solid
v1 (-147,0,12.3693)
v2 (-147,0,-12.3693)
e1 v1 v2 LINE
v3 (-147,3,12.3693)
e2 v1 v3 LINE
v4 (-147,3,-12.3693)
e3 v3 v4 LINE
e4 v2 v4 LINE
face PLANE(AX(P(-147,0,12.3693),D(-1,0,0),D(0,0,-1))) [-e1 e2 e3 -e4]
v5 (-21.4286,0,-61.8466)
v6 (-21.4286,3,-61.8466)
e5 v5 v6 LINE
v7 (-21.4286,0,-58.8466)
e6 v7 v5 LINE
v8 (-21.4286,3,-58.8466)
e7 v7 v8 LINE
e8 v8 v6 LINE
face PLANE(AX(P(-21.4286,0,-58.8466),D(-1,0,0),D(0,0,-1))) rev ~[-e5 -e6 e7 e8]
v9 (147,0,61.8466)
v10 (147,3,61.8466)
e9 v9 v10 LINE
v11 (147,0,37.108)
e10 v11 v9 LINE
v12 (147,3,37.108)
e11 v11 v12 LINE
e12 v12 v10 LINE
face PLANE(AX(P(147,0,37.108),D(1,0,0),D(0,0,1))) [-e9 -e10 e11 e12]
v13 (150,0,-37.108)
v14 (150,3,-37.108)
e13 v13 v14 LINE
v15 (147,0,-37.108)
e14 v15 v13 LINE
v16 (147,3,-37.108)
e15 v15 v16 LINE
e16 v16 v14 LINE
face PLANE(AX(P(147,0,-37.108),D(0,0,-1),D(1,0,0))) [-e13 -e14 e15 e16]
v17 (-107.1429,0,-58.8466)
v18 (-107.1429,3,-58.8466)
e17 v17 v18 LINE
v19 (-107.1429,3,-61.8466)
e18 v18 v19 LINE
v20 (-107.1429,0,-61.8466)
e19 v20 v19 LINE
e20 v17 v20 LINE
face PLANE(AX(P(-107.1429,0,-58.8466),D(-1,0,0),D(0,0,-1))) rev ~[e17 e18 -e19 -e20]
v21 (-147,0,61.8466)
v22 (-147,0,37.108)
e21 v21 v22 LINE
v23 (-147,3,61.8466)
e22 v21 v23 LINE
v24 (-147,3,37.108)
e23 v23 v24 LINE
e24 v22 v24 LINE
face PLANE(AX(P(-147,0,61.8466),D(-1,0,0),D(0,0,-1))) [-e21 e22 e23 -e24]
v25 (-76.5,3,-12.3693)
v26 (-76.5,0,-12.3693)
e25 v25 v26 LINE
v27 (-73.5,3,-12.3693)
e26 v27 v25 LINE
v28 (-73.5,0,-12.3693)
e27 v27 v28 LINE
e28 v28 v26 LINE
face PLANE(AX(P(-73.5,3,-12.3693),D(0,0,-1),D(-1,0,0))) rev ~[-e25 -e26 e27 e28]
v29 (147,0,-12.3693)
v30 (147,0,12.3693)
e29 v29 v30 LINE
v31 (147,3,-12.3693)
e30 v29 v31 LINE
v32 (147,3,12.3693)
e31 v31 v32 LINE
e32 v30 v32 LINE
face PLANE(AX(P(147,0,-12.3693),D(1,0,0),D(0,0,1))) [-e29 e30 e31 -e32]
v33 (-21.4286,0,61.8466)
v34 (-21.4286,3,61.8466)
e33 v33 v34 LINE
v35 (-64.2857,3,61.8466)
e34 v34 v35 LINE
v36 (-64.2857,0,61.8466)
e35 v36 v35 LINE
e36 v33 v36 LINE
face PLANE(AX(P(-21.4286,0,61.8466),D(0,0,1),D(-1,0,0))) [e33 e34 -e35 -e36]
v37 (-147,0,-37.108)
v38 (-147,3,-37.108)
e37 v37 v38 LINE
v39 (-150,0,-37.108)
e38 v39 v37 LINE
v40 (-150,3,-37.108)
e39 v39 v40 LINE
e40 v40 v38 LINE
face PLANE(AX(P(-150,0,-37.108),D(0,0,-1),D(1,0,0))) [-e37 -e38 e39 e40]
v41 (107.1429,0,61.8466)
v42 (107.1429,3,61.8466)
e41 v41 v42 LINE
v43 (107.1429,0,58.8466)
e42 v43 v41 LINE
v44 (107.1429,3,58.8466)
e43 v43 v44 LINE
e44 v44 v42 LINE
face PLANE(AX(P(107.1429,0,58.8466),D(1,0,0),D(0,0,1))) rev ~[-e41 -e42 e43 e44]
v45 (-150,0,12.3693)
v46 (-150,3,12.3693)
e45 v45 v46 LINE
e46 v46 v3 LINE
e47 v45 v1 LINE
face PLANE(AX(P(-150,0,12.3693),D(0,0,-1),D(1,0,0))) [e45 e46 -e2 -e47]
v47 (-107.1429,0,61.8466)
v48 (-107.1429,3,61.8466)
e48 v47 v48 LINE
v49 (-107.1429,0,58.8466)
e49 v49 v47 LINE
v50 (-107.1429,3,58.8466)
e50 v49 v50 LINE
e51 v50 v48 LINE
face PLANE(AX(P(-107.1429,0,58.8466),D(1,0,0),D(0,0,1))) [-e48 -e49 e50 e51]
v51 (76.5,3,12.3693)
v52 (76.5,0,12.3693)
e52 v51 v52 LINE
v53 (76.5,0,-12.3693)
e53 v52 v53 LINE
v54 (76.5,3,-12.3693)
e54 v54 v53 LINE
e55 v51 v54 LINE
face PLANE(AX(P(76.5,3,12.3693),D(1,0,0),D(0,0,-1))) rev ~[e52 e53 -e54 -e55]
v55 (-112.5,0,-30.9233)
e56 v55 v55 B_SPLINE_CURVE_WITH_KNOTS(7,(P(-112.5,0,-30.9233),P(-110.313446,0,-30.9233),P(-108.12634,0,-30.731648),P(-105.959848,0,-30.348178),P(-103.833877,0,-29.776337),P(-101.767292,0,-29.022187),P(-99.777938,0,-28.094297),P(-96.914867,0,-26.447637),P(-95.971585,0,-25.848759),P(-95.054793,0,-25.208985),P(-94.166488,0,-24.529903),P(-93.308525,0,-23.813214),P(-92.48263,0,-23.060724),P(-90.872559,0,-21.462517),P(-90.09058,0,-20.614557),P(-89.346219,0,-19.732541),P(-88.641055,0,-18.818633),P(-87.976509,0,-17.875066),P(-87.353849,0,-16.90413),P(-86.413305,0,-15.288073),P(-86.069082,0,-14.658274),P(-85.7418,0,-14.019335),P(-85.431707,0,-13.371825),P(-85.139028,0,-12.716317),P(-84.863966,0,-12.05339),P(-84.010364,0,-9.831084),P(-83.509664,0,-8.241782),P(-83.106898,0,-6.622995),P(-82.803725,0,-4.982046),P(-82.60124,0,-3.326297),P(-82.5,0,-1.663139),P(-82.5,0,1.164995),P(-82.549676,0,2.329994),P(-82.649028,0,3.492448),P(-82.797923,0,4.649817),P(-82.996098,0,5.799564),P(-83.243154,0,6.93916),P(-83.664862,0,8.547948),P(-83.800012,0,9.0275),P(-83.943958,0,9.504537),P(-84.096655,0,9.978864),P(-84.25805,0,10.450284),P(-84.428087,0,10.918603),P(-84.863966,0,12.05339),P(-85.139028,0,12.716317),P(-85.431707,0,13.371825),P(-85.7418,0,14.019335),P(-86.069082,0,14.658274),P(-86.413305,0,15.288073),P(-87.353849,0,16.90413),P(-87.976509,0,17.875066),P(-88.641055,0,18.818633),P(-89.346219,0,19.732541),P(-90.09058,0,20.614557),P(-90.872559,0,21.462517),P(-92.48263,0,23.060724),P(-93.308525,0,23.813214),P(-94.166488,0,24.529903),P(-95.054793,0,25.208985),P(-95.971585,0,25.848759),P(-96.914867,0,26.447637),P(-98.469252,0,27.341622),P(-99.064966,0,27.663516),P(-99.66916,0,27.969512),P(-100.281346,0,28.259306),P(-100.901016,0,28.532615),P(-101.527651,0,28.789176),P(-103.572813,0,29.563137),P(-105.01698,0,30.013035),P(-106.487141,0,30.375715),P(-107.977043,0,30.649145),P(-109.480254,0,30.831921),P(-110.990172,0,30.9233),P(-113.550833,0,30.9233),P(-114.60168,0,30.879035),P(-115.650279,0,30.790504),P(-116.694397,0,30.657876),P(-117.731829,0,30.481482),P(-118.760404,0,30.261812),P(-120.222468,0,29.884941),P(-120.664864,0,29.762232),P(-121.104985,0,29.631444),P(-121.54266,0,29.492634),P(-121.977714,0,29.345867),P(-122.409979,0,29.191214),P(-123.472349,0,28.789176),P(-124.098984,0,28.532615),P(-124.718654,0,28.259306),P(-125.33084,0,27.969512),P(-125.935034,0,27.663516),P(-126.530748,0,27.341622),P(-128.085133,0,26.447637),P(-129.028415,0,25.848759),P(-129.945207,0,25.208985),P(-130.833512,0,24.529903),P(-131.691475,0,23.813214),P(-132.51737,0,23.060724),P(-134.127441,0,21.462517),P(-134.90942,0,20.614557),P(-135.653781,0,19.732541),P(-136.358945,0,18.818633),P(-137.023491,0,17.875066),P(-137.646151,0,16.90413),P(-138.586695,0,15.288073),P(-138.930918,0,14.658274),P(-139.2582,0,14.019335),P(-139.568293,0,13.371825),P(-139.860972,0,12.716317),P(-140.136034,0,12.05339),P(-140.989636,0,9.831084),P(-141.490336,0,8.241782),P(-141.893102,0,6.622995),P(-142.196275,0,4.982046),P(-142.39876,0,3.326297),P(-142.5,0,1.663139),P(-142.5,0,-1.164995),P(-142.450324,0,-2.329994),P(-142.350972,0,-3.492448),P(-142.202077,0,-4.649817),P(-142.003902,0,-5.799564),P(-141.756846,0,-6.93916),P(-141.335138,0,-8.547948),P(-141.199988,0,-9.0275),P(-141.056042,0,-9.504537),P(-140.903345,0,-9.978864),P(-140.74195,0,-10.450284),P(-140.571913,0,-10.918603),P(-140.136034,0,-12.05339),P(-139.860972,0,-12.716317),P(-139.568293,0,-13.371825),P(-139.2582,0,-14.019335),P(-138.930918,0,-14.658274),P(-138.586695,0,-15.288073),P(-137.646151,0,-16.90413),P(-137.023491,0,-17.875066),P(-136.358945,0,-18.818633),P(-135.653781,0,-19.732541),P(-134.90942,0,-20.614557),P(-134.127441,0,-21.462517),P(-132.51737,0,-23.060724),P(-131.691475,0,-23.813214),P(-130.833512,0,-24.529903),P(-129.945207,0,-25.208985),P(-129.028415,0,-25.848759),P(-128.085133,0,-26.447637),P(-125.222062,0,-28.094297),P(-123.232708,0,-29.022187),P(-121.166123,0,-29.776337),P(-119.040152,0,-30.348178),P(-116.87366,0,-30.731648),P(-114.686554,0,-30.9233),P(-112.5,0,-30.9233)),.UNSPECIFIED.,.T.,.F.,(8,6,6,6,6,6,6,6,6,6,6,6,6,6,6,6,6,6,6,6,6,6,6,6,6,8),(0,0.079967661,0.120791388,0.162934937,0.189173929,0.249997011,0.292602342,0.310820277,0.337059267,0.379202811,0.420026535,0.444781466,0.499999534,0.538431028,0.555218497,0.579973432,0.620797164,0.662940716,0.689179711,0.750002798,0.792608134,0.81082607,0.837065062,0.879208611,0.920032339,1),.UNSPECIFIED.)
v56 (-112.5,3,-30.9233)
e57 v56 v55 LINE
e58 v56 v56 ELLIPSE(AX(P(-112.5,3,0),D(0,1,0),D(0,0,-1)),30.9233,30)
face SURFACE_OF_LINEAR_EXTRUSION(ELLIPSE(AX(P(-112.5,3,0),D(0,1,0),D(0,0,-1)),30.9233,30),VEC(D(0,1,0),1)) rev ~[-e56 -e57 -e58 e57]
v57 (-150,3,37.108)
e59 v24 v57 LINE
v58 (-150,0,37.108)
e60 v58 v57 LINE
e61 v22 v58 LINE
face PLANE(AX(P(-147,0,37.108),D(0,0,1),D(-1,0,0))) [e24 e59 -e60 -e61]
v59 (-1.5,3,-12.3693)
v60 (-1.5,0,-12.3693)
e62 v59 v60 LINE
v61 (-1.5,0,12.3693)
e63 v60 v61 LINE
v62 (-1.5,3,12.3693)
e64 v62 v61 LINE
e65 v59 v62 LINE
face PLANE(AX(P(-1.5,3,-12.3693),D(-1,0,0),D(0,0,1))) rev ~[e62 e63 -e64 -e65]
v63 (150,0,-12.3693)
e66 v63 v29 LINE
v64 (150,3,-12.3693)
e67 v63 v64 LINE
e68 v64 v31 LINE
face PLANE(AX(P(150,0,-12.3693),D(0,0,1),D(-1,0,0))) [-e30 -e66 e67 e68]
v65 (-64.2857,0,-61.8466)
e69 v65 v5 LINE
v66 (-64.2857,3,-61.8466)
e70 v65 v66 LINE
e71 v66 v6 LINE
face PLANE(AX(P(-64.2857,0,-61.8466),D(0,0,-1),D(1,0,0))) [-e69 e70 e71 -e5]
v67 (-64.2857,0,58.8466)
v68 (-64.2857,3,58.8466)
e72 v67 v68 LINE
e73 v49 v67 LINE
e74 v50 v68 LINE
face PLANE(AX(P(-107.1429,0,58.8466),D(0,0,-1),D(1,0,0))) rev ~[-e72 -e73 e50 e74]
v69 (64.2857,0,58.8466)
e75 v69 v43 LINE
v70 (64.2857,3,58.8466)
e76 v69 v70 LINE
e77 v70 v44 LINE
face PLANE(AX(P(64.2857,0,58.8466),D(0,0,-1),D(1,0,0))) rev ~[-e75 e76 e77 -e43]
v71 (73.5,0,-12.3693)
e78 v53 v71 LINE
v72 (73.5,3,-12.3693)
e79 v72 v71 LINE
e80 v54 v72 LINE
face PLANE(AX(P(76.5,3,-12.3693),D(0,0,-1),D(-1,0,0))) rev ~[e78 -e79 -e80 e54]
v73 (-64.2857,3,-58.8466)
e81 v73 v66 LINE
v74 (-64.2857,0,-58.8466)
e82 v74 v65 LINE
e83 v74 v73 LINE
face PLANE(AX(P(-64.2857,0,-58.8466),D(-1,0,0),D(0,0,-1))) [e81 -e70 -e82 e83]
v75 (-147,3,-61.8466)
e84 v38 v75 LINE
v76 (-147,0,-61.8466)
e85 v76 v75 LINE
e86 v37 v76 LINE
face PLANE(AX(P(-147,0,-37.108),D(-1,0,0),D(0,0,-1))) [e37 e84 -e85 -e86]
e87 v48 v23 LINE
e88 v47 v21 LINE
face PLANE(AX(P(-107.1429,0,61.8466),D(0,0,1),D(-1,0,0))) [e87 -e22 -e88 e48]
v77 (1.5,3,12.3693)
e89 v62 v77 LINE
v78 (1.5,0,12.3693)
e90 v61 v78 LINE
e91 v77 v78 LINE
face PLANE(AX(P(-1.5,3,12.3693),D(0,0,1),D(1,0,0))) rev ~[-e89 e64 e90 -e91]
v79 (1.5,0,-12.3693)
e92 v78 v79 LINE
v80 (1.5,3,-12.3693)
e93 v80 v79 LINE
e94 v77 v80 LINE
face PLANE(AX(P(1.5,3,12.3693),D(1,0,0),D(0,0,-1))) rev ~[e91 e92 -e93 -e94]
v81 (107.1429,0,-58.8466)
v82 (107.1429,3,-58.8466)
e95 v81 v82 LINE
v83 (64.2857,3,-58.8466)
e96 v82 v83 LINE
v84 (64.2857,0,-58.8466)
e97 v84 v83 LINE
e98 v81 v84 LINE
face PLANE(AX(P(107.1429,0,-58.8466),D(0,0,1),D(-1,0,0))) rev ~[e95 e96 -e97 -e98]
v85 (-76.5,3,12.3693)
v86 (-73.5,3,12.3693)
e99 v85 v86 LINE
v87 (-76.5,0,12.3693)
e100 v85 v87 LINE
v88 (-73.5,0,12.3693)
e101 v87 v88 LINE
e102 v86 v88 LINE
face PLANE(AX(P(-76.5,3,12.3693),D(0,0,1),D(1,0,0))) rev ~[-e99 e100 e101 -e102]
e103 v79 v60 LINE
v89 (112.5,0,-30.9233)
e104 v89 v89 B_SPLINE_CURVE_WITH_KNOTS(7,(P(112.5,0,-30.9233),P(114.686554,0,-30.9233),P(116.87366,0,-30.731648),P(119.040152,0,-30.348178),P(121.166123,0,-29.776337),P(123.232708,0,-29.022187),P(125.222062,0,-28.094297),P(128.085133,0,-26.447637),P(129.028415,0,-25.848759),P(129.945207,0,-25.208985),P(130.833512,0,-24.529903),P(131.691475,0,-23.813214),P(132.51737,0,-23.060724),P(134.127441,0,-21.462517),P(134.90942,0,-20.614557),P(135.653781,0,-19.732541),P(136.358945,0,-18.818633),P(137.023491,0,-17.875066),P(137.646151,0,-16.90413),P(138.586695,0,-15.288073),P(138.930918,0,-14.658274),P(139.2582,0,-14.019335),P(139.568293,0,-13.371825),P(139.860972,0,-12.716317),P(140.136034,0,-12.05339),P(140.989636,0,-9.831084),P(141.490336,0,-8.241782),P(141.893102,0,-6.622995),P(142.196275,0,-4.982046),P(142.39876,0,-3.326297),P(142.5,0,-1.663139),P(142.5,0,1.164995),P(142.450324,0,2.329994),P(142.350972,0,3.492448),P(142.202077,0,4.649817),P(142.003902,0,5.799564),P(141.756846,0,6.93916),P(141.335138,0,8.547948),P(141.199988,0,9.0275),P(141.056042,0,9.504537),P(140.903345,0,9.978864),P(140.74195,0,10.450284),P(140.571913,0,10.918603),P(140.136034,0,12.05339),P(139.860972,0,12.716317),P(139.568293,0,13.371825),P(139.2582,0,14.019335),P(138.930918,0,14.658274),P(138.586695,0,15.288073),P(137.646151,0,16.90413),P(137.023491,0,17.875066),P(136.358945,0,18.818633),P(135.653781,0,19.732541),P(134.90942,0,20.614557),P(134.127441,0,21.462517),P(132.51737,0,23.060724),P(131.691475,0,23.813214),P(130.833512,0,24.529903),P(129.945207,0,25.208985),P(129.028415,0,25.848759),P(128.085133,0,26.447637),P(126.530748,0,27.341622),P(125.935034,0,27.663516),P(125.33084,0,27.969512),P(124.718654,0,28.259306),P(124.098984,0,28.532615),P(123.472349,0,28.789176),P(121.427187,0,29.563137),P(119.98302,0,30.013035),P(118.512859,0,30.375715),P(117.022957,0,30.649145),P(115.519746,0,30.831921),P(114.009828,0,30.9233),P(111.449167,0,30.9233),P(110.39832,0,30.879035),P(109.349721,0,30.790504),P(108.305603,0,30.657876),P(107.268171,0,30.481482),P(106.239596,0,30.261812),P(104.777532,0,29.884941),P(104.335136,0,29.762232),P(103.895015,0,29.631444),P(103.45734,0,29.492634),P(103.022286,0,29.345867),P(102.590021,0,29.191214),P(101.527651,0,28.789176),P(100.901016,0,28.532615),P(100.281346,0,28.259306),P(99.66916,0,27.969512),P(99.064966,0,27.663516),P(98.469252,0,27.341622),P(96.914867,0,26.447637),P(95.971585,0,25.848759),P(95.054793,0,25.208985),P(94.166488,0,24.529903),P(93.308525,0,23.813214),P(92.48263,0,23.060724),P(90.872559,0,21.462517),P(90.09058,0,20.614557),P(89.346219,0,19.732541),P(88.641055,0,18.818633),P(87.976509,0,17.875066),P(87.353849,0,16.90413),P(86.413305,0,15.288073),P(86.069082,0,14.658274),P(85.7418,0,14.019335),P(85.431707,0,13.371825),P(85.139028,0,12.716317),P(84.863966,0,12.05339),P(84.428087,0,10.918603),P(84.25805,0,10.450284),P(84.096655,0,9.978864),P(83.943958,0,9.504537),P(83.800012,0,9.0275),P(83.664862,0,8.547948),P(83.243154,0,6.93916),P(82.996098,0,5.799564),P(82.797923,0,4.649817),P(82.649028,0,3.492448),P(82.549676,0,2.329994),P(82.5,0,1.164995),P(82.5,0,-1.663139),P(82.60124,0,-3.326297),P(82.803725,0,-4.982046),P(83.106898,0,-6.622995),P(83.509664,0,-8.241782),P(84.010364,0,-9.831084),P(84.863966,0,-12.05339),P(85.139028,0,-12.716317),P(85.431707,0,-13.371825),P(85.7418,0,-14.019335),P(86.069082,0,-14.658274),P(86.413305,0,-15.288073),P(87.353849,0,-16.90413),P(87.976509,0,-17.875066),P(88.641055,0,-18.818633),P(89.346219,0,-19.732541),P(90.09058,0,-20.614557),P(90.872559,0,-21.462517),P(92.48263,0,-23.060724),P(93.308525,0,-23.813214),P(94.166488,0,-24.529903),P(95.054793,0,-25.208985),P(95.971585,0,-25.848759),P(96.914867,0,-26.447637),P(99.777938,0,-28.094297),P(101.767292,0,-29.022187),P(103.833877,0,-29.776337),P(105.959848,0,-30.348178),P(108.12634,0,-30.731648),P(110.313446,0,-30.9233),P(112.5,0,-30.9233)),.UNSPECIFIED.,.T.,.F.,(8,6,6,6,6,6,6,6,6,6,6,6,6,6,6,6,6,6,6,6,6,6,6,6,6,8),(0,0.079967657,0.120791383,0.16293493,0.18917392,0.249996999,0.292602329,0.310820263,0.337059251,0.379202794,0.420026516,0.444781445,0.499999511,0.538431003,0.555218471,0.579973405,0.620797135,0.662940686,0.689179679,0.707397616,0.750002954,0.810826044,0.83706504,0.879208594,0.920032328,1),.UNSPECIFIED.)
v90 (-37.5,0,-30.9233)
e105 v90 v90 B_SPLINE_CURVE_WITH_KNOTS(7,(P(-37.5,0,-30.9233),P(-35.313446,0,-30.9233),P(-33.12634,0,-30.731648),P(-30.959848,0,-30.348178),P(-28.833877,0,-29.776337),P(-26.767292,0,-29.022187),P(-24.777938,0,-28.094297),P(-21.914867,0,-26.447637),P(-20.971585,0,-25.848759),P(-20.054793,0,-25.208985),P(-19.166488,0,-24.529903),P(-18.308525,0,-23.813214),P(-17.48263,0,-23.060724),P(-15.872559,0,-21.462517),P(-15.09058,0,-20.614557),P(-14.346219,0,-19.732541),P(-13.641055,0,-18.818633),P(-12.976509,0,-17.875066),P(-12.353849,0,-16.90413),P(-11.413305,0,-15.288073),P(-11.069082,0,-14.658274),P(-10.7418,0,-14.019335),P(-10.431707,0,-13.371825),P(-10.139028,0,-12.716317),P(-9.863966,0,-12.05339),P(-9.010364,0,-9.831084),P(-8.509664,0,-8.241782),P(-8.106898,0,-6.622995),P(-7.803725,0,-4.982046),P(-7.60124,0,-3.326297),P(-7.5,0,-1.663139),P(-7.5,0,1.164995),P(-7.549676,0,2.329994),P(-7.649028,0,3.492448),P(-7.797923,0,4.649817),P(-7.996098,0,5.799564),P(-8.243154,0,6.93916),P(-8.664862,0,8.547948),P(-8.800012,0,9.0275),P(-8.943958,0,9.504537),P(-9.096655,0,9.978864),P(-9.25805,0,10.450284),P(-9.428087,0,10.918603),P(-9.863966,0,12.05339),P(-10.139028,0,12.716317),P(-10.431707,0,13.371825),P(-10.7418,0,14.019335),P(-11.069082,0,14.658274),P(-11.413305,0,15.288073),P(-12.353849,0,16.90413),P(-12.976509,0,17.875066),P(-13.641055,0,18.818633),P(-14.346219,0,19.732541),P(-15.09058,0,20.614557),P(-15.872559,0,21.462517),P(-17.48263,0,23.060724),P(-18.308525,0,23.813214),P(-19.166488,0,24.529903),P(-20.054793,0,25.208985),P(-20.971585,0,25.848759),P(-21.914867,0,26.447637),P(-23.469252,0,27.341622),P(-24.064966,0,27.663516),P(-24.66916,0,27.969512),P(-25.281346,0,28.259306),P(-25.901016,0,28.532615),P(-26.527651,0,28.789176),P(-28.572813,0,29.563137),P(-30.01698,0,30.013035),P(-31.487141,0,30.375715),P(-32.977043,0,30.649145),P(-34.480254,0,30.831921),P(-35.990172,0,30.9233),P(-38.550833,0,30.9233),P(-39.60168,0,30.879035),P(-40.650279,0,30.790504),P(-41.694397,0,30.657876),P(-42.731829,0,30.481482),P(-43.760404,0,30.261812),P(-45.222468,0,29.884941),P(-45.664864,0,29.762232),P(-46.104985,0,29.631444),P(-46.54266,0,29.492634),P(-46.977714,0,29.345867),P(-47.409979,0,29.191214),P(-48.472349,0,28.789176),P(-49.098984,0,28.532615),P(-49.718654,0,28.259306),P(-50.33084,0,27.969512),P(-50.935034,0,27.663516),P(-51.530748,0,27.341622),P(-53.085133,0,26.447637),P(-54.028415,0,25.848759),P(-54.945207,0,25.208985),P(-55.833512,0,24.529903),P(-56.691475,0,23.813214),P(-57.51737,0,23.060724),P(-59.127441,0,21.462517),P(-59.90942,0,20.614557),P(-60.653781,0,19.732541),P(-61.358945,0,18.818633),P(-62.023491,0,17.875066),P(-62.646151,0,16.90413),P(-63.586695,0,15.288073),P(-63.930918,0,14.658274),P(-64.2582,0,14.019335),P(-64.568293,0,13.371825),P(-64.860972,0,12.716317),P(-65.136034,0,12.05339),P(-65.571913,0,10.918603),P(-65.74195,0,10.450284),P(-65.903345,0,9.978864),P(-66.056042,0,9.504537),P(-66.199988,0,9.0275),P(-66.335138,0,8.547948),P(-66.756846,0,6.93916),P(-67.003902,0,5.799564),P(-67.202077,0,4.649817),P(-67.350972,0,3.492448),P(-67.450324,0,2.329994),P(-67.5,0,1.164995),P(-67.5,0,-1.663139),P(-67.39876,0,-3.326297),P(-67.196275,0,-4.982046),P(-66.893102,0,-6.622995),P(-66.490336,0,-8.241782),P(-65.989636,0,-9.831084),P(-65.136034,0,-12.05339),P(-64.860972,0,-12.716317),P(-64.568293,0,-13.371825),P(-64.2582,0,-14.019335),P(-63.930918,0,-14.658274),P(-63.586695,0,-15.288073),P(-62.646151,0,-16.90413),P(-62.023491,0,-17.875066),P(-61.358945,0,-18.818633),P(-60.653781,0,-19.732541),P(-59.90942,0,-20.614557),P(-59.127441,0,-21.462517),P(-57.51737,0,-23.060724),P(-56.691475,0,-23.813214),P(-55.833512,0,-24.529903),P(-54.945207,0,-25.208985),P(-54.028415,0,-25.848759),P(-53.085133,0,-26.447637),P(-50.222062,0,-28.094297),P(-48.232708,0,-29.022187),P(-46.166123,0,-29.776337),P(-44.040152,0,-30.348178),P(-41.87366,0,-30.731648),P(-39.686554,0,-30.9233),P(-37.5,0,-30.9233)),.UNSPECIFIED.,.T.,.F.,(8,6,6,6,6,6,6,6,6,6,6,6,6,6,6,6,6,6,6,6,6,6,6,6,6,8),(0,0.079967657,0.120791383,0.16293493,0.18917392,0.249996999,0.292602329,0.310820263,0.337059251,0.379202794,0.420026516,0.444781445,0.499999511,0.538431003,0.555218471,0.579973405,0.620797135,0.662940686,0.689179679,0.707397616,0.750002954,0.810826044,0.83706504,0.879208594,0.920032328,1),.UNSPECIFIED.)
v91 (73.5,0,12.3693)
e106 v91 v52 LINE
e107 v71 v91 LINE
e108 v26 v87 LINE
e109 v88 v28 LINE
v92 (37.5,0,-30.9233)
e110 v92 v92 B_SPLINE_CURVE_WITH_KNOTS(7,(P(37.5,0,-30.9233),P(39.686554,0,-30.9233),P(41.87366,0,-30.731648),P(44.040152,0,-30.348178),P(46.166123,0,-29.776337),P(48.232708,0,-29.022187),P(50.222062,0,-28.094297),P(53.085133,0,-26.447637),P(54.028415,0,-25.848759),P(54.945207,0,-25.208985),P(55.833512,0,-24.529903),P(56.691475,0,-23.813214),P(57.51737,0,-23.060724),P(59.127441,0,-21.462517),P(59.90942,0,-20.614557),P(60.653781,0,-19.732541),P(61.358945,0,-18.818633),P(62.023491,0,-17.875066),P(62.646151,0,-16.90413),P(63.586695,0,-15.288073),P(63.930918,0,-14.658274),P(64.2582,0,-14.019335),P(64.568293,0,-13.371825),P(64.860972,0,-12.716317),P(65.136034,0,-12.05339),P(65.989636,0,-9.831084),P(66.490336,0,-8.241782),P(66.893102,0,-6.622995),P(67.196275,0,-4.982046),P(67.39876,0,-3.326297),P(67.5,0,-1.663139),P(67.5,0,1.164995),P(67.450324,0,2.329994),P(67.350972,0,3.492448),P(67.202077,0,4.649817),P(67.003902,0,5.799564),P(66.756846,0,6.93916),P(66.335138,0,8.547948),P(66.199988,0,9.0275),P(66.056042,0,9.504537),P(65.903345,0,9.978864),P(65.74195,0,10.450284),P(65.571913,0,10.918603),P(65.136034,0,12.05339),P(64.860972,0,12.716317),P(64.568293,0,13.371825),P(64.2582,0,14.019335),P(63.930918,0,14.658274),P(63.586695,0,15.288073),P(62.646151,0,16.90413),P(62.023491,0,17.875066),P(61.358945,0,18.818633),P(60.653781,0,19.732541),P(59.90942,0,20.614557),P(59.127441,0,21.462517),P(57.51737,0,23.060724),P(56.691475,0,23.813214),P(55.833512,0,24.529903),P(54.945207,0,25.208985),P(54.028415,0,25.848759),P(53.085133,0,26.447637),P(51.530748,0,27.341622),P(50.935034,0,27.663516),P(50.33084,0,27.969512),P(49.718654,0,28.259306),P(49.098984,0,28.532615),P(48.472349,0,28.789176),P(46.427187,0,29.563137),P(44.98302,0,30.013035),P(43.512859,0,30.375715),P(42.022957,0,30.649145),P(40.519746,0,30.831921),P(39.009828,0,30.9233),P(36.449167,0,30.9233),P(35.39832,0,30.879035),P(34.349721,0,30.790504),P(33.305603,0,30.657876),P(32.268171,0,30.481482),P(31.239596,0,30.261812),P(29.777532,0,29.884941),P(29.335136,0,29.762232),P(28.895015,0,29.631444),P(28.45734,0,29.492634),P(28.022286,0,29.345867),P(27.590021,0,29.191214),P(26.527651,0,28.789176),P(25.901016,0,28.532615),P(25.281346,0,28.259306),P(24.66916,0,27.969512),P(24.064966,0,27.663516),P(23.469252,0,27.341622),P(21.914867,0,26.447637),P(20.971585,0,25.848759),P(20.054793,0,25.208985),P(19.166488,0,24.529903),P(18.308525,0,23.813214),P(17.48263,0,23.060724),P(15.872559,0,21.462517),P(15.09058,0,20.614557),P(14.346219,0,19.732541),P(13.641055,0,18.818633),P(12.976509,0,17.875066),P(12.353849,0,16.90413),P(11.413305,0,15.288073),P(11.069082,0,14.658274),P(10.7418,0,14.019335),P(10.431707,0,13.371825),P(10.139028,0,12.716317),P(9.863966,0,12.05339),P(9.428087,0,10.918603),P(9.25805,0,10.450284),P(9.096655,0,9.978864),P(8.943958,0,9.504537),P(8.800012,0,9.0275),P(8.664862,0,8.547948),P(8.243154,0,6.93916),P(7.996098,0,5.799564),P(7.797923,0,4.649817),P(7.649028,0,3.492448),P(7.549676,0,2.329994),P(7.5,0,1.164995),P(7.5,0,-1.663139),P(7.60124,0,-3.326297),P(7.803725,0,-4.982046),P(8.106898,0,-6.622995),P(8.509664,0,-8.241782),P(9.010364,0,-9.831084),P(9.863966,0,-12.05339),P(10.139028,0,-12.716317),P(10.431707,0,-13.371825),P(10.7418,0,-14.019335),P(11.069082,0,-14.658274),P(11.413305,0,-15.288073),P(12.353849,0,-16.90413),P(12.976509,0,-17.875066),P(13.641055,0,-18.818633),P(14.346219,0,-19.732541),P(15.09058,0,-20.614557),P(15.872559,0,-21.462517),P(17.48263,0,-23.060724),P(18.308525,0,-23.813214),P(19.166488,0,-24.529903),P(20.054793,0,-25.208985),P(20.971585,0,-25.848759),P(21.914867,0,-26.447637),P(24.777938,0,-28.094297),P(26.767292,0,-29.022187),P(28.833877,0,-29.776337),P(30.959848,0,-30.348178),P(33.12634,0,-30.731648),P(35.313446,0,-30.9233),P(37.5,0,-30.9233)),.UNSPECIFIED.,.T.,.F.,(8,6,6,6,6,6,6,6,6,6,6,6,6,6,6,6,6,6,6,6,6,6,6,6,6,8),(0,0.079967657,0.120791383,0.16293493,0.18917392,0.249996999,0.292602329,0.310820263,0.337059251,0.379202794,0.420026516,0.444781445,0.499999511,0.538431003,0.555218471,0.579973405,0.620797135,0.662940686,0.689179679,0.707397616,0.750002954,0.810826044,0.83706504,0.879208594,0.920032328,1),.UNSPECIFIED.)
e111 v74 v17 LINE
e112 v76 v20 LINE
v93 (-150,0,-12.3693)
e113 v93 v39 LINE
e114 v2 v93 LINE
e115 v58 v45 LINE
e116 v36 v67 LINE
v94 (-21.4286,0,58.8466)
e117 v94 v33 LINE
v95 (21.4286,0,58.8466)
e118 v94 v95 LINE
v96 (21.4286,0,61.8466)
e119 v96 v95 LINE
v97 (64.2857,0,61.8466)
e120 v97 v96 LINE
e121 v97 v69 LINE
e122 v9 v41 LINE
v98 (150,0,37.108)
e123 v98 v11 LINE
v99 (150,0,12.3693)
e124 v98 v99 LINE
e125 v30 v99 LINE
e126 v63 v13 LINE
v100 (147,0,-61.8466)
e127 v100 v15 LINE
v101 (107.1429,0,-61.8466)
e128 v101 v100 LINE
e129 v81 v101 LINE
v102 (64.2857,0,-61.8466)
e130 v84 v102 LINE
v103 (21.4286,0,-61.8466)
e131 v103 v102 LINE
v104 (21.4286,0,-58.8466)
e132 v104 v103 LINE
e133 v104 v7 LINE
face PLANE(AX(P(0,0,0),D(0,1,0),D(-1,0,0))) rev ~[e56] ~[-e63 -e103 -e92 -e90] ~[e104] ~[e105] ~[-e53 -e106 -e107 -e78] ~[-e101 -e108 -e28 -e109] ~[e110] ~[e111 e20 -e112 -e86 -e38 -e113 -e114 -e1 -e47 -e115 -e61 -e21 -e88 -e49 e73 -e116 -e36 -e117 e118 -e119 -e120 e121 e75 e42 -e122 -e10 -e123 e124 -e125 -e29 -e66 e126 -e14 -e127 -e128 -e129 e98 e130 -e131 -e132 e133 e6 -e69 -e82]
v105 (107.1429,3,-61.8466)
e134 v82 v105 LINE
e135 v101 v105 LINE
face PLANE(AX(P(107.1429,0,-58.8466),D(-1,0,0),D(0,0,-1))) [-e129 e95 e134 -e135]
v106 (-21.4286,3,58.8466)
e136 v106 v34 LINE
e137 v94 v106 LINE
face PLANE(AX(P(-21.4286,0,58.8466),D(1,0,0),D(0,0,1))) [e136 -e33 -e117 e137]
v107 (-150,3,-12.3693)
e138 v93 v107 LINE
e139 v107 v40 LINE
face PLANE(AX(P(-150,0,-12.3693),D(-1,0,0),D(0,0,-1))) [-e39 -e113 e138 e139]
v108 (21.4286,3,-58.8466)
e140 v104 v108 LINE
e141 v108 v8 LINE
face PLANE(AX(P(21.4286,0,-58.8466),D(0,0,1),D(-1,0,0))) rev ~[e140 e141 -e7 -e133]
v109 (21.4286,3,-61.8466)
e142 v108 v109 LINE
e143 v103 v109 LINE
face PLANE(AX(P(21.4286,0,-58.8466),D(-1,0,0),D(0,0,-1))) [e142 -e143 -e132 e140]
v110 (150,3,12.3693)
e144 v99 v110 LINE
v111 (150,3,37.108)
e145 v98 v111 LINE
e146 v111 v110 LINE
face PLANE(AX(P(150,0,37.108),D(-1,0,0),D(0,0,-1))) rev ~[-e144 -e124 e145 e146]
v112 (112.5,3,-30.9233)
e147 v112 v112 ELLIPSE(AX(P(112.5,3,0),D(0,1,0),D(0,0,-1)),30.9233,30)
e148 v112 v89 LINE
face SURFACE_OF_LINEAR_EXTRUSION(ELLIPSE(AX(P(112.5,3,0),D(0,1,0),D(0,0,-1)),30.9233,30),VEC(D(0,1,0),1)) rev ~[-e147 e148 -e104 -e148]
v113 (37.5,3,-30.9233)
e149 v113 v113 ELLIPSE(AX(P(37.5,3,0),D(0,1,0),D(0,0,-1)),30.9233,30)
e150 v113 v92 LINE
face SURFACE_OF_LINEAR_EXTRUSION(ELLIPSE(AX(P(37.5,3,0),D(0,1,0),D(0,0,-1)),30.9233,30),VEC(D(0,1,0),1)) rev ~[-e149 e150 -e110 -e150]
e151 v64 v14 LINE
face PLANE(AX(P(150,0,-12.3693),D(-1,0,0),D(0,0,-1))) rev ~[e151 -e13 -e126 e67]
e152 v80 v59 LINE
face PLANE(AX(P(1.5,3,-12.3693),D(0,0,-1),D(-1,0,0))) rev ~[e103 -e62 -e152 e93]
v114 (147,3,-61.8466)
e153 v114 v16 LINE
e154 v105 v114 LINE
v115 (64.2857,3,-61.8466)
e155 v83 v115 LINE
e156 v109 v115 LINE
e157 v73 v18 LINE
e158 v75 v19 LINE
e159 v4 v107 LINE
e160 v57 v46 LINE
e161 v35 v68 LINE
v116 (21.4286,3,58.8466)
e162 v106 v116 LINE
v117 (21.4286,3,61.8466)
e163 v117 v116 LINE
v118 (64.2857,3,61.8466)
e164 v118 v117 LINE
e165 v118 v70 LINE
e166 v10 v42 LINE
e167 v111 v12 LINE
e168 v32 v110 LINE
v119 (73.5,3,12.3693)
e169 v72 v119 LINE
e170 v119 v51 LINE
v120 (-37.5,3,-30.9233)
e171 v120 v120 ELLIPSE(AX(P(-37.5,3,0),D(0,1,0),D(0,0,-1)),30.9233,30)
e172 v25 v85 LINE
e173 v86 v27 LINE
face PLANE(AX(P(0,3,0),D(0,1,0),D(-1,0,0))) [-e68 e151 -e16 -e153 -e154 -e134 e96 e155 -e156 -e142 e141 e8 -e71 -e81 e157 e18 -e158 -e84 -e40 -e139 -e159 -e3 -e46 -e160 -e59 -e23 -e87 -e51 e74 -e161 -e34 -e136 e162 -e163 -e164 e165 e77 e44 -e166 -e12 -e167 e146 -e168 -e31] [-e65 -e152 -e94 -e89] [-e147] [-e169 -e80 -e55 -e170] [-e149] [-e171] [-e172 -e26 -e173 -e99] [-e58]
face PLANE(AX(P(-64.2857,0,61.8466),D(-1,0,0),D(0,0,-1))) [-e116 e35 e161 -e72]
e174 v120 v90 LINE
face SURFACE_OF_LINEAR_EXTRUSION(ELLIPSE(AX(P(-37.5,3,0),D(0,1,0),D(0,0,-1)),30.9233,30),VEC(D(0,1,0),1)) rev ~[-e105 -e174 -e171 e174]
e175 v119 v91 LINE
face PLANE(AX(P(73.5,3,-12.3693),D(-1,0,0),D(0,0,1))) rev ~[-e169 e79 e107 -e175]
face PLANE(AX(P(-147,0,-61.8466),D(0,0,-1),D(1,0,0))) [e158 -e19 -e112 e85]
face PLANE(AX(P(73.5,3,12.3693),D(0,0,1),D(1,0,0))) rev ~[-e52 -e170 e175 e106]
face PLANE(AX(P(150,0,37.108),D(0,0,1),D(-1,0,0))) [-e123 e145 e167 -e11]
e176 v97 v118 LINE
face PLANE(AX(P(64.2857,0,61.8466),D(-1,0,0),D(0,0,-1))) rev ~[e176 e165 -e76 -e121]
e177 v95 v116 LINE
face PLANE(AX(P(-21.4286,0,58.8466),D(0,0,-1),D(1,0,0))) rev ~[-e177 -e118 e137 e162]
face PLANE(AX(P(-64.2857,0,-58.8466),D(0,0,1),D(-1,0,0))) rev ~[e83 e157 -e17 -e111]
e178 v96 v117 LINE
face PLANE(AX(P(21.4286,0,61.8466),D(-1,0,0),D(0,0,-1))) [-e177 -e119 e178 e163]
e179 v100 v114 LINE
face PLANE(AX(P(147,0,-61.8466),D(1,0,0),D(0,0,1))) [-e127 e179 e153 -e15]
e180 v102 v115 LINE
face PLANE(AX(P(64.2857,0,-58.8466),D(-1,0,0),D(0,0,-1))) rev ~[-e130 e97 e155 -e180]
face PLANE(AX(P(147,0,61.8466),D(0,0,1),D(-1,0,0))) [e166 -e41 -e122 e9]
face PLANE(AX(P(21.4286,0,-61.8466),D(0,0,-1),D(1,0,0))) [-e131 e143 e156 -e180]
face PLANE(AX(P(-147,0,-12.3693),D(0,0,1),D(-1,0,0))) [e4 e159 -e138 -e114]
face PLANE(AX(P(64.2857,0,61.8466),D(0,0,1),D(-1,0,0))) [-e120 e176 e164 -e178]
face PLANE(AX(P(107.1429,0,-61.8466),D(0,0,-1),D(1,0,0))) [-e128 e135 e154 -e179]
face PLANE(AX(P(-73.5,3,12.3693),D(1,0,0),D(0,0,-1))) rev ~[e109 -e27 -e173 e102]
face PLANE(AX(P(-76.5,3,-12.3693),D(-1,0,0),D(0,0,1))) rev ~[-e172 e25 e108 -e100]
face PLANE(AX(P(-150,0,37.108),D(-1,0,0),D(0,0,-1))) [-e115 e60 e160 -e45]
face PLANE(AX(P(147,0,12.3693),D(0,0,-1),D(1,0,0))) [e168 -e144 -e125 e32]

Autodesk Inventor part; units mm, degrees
ref_plane "YZ Plane" through (0, 0, 0) normal (1, 0, 0) x (0, 1, 0)
ref_plane "XZ Plane" through (0, 0, 0) normal (0, 1, 0) x (-1, 0, 0)
ref_plane "XY Plane" through (0, 0, 0) normal (0, 0, 1) x (1, 0, 0)
sketch "Sketch1" plane through (0, 0, 0) normal (0, 1, 0) x (-1, 0, 0)
  line L0 (107.1429, 58.8466) -> (107.1429, 61.8466)
  line L1 (64.2857, 61.8466) -> (64.2857, 58.8466)
  line L2 (21.4286, 58.8466) -> (21.4286, 61.8466)
  line L3 (-21.4286, 61.8466) -> (-21.4286, 58.8466)
  line L4 (-64.2857, 61.8466) -> (-64.2857, 58.8466)
  line L5 (-107.1429, 58.8466) -> (-107.1429, 61.8466)
  line L6 (107.1429, -58.8466) -> (107.1429, -61.8466)
  line L7 (64.2857, -58.8466) -> (64.2857, -61.8466)
  line L8 (21.4286, -58.8466) -> (21.4286, -61.8466)
  line L9 (-21.4286, -58.8466) -> (-21.4286, -61.8466)
  line L10 (-64.2857, -58.8466) -> (-64.2857, -61.8466)
  line L11 (-107.1429, -58.8466) -> (-107.1429, -61.8466)
  line L12 (107.1429, 61.8466) -> (147, 61.8466)
  line L13 (107.1429, 58.8466) -> (64.2857, 58.8466)
  line L14 (147, -61.8466) -> (107.1429, -61.8466)
  line L15 (64.2857, -61.8466) -> (21.4286, -61.8466)
  line L16 (-21.4286, -61.8466) -> (-64.2857, -61.8466)
  line L17 (-107.1429, -61.8466) -> (-147, -61.8466)
  line L18 (64.2857, -58.8466) -> (107.1429, -58.8466)
  line L19 (-107.1429, -58.8466) -> (-64.2857, -58.8466)
  line L20 (-21.4286, -58.8466) -> (21.4286, -58.8466)
  line L21 (21.4286, 61.8466) -> (64.2857, 61.8466)
  line L22 (21.4286, 58.8466) -> (-21.4286, 58.8466)
  line L23 (-64.2857, 58.8466) -> (-107.1429, 58.8466)
  line L24 (-147, 61.8466) -> (-107.1429, 61.8466)
  line L25 (-64.2857, 61.8466) -> (-21.4286, 61.8466)
  line L26 (147, 37.108) -> (150, 37.108)
  line L27 (150, 12.3693) -> (147, 12.3693)
  line L28 (147, -12.3693) -> (150, -12.3693)
  line L29 (150, -37.108) -> (147, -37.108)
  line L30 (147, -37.108) -> (147, -61.8466)
  line L31 (150, 37.108) -> (150, 12.3693)
  line L32 (150, -12.3693) -> (150, -37.108)
  line L33 (147, 61.8466) -> (147, 37.108)
  line L34 (147, 12.3693) -> (147, -12.3693)
  line L35 (-147, -37.108) -> (-150, -37.108)
  line L36 (-150, -12.3693) -> (-147, -12.3693)
  line L37 (-147, 12.3693) -> (-150, 12.3693)
  line L38 (-150, 37.108) -> (-147, 37.108)
  line L39 (-150, 37.108) -> (-150, 12.3693)
  line L40 (-150, -12.3693) -> (-150, -37.108)
  line L41 (-147, 37.108) -> (-147, 61.8466)
  line L42 (-147, -61.8466) -> (-147, -37.108)
  line L43 (-147, -12.3693) -> (-147, 12.3693)
  point P0 (0, 0)
  dimension "d23" = 123.6932
  dimension "d35" = 3
  dimension "d36" = 61.8466
  dimension "d37" = 3
  dimension "d41" = 24.7386
  dimension "d42" = 49.4773
  dimension "d43" = 74.2159
  dimension "d44" = 98.9545
  dimension "d45" = 3
  dimension "d46" = 42.8571
  dimension "d47" = 128.5714
  dimension "d48" = 171.4286
  dimension "d49" = 214.2857
  dimension "d50" = 85.7143
  dimension "d51" = 257.1429
  dimension "d52" = 300
  dimension "d53" = 3
  dimension "d54" = 150
extrude "Extrusion1" add sketch "Sketch1" along normal blind 3
sketch "Sketch2" plane through (0, 3, 0) normal (0, 1, 0) x (1, 0, 0)
  ellipse E0 centre (-112.5, 0) end of major axis (-112.5, 30.9233) minor radius 30
  point P0 (0, 0)
  point P1 (-82.5, 0)
  point P2 (-112.5, -30.9233)
  dimension "d55" = 112.5
  dimension "d56" = 30
  dimension "d57" = 30.9233
extrude "Extrusion2" cut sketch "Sketch2" against normal through all
pattern_linear "Rectangular Pattern1" count 4 spacing 75 along (1, 0, 0) of "Extrusion2"
sketch "Sketch3" plane through (0, 3, 0) normal (0, 1, 0) x (1, 0, 0)
  line L0 (-76.5, -12.3693) -> (-73.5, -12.3693)
  line L1 (-73.5, -12.3693) -> (-73.5, 12.3693)
  line L2 (-73.5, 12.3693) -> (-76.5, 12.3693)
  line L3 (-76.5, 12.3693) -> (-76.5, -12.3693)
  point P0 (0, 0)
  dimension "d92" = 24.7386
  dimension "d93" = 73.5
  dimension "d94" = 3
  dimension "d95" = 12.3693
extrude "Extrusion3" cut sketch "Sketch3" against normal through all
pattern_linear "Rectangular Pattern2" count 3 spacing 75 along (1, 0, 0) of "Extrusion3"
equation "\"d23\" = dt"
equation "\"d35\" = tt"
equation "\"d36\" = 0.5 * dt"
equation "\"d37\" = tt"
equation "\"d41\" = 0.2 * dt - tol"
equation "\"d42\" = 0.4 * dt + tol"
equation "\"d43\" = 0.6 * dt - tol"
equation "\"d44\" = 0.8 * dt + tol"
equation "\"d45\" = tt"
equation "\"d46\" = 0.142857 * wt + tol"
equation "\"d47\" = 0.428571 * wt + tol"
equation "\"d48\" = 0.571429 * wt - tol"
equation "\"d49\" = 0.714286 * wt + tol"
equation "\"d50\" = 0.285714 * wt - tol"
equation "\"d51\" = 0.857143 * wt - tol"
equation "\"d52\" = wt"
equation "\"d53\" = tt"
equation "\"d54\" = 0.5 * wt"
equation "\"d31\" = tt"
equation "\"d56\" = 0.5 * glassDia"
equation "\"d92\" = 0.2 * dt + 2 * tol"
equation "\"d93\" = 0.25 * wt - 0.5 * tt"
equation "\"d94\" = tt"
equation "\"d95\" = 0.1 * dt + tol"
equation "\"d100\" = 0.25 * wt"
equation "\"d0\" = 0.5 * dt"
equation "\"d1\" = 0.5 * dt"
equation "\"d4\" = tt"
equation "\"wt\" = 300"
equation "\"tt\" = 3"
equation "\"tol\" = 0"
equation "\"tiroir\" = 1"
equation "\"d39\" = tt"
equation "\"d40\" = tt"
equation "\"nHoles\" = 4"
equation "\"shelfH\" = 35"
equation "\"dt\" = 123.693169"
equation "\"glassDia\" = 60"
properties part number "base"
